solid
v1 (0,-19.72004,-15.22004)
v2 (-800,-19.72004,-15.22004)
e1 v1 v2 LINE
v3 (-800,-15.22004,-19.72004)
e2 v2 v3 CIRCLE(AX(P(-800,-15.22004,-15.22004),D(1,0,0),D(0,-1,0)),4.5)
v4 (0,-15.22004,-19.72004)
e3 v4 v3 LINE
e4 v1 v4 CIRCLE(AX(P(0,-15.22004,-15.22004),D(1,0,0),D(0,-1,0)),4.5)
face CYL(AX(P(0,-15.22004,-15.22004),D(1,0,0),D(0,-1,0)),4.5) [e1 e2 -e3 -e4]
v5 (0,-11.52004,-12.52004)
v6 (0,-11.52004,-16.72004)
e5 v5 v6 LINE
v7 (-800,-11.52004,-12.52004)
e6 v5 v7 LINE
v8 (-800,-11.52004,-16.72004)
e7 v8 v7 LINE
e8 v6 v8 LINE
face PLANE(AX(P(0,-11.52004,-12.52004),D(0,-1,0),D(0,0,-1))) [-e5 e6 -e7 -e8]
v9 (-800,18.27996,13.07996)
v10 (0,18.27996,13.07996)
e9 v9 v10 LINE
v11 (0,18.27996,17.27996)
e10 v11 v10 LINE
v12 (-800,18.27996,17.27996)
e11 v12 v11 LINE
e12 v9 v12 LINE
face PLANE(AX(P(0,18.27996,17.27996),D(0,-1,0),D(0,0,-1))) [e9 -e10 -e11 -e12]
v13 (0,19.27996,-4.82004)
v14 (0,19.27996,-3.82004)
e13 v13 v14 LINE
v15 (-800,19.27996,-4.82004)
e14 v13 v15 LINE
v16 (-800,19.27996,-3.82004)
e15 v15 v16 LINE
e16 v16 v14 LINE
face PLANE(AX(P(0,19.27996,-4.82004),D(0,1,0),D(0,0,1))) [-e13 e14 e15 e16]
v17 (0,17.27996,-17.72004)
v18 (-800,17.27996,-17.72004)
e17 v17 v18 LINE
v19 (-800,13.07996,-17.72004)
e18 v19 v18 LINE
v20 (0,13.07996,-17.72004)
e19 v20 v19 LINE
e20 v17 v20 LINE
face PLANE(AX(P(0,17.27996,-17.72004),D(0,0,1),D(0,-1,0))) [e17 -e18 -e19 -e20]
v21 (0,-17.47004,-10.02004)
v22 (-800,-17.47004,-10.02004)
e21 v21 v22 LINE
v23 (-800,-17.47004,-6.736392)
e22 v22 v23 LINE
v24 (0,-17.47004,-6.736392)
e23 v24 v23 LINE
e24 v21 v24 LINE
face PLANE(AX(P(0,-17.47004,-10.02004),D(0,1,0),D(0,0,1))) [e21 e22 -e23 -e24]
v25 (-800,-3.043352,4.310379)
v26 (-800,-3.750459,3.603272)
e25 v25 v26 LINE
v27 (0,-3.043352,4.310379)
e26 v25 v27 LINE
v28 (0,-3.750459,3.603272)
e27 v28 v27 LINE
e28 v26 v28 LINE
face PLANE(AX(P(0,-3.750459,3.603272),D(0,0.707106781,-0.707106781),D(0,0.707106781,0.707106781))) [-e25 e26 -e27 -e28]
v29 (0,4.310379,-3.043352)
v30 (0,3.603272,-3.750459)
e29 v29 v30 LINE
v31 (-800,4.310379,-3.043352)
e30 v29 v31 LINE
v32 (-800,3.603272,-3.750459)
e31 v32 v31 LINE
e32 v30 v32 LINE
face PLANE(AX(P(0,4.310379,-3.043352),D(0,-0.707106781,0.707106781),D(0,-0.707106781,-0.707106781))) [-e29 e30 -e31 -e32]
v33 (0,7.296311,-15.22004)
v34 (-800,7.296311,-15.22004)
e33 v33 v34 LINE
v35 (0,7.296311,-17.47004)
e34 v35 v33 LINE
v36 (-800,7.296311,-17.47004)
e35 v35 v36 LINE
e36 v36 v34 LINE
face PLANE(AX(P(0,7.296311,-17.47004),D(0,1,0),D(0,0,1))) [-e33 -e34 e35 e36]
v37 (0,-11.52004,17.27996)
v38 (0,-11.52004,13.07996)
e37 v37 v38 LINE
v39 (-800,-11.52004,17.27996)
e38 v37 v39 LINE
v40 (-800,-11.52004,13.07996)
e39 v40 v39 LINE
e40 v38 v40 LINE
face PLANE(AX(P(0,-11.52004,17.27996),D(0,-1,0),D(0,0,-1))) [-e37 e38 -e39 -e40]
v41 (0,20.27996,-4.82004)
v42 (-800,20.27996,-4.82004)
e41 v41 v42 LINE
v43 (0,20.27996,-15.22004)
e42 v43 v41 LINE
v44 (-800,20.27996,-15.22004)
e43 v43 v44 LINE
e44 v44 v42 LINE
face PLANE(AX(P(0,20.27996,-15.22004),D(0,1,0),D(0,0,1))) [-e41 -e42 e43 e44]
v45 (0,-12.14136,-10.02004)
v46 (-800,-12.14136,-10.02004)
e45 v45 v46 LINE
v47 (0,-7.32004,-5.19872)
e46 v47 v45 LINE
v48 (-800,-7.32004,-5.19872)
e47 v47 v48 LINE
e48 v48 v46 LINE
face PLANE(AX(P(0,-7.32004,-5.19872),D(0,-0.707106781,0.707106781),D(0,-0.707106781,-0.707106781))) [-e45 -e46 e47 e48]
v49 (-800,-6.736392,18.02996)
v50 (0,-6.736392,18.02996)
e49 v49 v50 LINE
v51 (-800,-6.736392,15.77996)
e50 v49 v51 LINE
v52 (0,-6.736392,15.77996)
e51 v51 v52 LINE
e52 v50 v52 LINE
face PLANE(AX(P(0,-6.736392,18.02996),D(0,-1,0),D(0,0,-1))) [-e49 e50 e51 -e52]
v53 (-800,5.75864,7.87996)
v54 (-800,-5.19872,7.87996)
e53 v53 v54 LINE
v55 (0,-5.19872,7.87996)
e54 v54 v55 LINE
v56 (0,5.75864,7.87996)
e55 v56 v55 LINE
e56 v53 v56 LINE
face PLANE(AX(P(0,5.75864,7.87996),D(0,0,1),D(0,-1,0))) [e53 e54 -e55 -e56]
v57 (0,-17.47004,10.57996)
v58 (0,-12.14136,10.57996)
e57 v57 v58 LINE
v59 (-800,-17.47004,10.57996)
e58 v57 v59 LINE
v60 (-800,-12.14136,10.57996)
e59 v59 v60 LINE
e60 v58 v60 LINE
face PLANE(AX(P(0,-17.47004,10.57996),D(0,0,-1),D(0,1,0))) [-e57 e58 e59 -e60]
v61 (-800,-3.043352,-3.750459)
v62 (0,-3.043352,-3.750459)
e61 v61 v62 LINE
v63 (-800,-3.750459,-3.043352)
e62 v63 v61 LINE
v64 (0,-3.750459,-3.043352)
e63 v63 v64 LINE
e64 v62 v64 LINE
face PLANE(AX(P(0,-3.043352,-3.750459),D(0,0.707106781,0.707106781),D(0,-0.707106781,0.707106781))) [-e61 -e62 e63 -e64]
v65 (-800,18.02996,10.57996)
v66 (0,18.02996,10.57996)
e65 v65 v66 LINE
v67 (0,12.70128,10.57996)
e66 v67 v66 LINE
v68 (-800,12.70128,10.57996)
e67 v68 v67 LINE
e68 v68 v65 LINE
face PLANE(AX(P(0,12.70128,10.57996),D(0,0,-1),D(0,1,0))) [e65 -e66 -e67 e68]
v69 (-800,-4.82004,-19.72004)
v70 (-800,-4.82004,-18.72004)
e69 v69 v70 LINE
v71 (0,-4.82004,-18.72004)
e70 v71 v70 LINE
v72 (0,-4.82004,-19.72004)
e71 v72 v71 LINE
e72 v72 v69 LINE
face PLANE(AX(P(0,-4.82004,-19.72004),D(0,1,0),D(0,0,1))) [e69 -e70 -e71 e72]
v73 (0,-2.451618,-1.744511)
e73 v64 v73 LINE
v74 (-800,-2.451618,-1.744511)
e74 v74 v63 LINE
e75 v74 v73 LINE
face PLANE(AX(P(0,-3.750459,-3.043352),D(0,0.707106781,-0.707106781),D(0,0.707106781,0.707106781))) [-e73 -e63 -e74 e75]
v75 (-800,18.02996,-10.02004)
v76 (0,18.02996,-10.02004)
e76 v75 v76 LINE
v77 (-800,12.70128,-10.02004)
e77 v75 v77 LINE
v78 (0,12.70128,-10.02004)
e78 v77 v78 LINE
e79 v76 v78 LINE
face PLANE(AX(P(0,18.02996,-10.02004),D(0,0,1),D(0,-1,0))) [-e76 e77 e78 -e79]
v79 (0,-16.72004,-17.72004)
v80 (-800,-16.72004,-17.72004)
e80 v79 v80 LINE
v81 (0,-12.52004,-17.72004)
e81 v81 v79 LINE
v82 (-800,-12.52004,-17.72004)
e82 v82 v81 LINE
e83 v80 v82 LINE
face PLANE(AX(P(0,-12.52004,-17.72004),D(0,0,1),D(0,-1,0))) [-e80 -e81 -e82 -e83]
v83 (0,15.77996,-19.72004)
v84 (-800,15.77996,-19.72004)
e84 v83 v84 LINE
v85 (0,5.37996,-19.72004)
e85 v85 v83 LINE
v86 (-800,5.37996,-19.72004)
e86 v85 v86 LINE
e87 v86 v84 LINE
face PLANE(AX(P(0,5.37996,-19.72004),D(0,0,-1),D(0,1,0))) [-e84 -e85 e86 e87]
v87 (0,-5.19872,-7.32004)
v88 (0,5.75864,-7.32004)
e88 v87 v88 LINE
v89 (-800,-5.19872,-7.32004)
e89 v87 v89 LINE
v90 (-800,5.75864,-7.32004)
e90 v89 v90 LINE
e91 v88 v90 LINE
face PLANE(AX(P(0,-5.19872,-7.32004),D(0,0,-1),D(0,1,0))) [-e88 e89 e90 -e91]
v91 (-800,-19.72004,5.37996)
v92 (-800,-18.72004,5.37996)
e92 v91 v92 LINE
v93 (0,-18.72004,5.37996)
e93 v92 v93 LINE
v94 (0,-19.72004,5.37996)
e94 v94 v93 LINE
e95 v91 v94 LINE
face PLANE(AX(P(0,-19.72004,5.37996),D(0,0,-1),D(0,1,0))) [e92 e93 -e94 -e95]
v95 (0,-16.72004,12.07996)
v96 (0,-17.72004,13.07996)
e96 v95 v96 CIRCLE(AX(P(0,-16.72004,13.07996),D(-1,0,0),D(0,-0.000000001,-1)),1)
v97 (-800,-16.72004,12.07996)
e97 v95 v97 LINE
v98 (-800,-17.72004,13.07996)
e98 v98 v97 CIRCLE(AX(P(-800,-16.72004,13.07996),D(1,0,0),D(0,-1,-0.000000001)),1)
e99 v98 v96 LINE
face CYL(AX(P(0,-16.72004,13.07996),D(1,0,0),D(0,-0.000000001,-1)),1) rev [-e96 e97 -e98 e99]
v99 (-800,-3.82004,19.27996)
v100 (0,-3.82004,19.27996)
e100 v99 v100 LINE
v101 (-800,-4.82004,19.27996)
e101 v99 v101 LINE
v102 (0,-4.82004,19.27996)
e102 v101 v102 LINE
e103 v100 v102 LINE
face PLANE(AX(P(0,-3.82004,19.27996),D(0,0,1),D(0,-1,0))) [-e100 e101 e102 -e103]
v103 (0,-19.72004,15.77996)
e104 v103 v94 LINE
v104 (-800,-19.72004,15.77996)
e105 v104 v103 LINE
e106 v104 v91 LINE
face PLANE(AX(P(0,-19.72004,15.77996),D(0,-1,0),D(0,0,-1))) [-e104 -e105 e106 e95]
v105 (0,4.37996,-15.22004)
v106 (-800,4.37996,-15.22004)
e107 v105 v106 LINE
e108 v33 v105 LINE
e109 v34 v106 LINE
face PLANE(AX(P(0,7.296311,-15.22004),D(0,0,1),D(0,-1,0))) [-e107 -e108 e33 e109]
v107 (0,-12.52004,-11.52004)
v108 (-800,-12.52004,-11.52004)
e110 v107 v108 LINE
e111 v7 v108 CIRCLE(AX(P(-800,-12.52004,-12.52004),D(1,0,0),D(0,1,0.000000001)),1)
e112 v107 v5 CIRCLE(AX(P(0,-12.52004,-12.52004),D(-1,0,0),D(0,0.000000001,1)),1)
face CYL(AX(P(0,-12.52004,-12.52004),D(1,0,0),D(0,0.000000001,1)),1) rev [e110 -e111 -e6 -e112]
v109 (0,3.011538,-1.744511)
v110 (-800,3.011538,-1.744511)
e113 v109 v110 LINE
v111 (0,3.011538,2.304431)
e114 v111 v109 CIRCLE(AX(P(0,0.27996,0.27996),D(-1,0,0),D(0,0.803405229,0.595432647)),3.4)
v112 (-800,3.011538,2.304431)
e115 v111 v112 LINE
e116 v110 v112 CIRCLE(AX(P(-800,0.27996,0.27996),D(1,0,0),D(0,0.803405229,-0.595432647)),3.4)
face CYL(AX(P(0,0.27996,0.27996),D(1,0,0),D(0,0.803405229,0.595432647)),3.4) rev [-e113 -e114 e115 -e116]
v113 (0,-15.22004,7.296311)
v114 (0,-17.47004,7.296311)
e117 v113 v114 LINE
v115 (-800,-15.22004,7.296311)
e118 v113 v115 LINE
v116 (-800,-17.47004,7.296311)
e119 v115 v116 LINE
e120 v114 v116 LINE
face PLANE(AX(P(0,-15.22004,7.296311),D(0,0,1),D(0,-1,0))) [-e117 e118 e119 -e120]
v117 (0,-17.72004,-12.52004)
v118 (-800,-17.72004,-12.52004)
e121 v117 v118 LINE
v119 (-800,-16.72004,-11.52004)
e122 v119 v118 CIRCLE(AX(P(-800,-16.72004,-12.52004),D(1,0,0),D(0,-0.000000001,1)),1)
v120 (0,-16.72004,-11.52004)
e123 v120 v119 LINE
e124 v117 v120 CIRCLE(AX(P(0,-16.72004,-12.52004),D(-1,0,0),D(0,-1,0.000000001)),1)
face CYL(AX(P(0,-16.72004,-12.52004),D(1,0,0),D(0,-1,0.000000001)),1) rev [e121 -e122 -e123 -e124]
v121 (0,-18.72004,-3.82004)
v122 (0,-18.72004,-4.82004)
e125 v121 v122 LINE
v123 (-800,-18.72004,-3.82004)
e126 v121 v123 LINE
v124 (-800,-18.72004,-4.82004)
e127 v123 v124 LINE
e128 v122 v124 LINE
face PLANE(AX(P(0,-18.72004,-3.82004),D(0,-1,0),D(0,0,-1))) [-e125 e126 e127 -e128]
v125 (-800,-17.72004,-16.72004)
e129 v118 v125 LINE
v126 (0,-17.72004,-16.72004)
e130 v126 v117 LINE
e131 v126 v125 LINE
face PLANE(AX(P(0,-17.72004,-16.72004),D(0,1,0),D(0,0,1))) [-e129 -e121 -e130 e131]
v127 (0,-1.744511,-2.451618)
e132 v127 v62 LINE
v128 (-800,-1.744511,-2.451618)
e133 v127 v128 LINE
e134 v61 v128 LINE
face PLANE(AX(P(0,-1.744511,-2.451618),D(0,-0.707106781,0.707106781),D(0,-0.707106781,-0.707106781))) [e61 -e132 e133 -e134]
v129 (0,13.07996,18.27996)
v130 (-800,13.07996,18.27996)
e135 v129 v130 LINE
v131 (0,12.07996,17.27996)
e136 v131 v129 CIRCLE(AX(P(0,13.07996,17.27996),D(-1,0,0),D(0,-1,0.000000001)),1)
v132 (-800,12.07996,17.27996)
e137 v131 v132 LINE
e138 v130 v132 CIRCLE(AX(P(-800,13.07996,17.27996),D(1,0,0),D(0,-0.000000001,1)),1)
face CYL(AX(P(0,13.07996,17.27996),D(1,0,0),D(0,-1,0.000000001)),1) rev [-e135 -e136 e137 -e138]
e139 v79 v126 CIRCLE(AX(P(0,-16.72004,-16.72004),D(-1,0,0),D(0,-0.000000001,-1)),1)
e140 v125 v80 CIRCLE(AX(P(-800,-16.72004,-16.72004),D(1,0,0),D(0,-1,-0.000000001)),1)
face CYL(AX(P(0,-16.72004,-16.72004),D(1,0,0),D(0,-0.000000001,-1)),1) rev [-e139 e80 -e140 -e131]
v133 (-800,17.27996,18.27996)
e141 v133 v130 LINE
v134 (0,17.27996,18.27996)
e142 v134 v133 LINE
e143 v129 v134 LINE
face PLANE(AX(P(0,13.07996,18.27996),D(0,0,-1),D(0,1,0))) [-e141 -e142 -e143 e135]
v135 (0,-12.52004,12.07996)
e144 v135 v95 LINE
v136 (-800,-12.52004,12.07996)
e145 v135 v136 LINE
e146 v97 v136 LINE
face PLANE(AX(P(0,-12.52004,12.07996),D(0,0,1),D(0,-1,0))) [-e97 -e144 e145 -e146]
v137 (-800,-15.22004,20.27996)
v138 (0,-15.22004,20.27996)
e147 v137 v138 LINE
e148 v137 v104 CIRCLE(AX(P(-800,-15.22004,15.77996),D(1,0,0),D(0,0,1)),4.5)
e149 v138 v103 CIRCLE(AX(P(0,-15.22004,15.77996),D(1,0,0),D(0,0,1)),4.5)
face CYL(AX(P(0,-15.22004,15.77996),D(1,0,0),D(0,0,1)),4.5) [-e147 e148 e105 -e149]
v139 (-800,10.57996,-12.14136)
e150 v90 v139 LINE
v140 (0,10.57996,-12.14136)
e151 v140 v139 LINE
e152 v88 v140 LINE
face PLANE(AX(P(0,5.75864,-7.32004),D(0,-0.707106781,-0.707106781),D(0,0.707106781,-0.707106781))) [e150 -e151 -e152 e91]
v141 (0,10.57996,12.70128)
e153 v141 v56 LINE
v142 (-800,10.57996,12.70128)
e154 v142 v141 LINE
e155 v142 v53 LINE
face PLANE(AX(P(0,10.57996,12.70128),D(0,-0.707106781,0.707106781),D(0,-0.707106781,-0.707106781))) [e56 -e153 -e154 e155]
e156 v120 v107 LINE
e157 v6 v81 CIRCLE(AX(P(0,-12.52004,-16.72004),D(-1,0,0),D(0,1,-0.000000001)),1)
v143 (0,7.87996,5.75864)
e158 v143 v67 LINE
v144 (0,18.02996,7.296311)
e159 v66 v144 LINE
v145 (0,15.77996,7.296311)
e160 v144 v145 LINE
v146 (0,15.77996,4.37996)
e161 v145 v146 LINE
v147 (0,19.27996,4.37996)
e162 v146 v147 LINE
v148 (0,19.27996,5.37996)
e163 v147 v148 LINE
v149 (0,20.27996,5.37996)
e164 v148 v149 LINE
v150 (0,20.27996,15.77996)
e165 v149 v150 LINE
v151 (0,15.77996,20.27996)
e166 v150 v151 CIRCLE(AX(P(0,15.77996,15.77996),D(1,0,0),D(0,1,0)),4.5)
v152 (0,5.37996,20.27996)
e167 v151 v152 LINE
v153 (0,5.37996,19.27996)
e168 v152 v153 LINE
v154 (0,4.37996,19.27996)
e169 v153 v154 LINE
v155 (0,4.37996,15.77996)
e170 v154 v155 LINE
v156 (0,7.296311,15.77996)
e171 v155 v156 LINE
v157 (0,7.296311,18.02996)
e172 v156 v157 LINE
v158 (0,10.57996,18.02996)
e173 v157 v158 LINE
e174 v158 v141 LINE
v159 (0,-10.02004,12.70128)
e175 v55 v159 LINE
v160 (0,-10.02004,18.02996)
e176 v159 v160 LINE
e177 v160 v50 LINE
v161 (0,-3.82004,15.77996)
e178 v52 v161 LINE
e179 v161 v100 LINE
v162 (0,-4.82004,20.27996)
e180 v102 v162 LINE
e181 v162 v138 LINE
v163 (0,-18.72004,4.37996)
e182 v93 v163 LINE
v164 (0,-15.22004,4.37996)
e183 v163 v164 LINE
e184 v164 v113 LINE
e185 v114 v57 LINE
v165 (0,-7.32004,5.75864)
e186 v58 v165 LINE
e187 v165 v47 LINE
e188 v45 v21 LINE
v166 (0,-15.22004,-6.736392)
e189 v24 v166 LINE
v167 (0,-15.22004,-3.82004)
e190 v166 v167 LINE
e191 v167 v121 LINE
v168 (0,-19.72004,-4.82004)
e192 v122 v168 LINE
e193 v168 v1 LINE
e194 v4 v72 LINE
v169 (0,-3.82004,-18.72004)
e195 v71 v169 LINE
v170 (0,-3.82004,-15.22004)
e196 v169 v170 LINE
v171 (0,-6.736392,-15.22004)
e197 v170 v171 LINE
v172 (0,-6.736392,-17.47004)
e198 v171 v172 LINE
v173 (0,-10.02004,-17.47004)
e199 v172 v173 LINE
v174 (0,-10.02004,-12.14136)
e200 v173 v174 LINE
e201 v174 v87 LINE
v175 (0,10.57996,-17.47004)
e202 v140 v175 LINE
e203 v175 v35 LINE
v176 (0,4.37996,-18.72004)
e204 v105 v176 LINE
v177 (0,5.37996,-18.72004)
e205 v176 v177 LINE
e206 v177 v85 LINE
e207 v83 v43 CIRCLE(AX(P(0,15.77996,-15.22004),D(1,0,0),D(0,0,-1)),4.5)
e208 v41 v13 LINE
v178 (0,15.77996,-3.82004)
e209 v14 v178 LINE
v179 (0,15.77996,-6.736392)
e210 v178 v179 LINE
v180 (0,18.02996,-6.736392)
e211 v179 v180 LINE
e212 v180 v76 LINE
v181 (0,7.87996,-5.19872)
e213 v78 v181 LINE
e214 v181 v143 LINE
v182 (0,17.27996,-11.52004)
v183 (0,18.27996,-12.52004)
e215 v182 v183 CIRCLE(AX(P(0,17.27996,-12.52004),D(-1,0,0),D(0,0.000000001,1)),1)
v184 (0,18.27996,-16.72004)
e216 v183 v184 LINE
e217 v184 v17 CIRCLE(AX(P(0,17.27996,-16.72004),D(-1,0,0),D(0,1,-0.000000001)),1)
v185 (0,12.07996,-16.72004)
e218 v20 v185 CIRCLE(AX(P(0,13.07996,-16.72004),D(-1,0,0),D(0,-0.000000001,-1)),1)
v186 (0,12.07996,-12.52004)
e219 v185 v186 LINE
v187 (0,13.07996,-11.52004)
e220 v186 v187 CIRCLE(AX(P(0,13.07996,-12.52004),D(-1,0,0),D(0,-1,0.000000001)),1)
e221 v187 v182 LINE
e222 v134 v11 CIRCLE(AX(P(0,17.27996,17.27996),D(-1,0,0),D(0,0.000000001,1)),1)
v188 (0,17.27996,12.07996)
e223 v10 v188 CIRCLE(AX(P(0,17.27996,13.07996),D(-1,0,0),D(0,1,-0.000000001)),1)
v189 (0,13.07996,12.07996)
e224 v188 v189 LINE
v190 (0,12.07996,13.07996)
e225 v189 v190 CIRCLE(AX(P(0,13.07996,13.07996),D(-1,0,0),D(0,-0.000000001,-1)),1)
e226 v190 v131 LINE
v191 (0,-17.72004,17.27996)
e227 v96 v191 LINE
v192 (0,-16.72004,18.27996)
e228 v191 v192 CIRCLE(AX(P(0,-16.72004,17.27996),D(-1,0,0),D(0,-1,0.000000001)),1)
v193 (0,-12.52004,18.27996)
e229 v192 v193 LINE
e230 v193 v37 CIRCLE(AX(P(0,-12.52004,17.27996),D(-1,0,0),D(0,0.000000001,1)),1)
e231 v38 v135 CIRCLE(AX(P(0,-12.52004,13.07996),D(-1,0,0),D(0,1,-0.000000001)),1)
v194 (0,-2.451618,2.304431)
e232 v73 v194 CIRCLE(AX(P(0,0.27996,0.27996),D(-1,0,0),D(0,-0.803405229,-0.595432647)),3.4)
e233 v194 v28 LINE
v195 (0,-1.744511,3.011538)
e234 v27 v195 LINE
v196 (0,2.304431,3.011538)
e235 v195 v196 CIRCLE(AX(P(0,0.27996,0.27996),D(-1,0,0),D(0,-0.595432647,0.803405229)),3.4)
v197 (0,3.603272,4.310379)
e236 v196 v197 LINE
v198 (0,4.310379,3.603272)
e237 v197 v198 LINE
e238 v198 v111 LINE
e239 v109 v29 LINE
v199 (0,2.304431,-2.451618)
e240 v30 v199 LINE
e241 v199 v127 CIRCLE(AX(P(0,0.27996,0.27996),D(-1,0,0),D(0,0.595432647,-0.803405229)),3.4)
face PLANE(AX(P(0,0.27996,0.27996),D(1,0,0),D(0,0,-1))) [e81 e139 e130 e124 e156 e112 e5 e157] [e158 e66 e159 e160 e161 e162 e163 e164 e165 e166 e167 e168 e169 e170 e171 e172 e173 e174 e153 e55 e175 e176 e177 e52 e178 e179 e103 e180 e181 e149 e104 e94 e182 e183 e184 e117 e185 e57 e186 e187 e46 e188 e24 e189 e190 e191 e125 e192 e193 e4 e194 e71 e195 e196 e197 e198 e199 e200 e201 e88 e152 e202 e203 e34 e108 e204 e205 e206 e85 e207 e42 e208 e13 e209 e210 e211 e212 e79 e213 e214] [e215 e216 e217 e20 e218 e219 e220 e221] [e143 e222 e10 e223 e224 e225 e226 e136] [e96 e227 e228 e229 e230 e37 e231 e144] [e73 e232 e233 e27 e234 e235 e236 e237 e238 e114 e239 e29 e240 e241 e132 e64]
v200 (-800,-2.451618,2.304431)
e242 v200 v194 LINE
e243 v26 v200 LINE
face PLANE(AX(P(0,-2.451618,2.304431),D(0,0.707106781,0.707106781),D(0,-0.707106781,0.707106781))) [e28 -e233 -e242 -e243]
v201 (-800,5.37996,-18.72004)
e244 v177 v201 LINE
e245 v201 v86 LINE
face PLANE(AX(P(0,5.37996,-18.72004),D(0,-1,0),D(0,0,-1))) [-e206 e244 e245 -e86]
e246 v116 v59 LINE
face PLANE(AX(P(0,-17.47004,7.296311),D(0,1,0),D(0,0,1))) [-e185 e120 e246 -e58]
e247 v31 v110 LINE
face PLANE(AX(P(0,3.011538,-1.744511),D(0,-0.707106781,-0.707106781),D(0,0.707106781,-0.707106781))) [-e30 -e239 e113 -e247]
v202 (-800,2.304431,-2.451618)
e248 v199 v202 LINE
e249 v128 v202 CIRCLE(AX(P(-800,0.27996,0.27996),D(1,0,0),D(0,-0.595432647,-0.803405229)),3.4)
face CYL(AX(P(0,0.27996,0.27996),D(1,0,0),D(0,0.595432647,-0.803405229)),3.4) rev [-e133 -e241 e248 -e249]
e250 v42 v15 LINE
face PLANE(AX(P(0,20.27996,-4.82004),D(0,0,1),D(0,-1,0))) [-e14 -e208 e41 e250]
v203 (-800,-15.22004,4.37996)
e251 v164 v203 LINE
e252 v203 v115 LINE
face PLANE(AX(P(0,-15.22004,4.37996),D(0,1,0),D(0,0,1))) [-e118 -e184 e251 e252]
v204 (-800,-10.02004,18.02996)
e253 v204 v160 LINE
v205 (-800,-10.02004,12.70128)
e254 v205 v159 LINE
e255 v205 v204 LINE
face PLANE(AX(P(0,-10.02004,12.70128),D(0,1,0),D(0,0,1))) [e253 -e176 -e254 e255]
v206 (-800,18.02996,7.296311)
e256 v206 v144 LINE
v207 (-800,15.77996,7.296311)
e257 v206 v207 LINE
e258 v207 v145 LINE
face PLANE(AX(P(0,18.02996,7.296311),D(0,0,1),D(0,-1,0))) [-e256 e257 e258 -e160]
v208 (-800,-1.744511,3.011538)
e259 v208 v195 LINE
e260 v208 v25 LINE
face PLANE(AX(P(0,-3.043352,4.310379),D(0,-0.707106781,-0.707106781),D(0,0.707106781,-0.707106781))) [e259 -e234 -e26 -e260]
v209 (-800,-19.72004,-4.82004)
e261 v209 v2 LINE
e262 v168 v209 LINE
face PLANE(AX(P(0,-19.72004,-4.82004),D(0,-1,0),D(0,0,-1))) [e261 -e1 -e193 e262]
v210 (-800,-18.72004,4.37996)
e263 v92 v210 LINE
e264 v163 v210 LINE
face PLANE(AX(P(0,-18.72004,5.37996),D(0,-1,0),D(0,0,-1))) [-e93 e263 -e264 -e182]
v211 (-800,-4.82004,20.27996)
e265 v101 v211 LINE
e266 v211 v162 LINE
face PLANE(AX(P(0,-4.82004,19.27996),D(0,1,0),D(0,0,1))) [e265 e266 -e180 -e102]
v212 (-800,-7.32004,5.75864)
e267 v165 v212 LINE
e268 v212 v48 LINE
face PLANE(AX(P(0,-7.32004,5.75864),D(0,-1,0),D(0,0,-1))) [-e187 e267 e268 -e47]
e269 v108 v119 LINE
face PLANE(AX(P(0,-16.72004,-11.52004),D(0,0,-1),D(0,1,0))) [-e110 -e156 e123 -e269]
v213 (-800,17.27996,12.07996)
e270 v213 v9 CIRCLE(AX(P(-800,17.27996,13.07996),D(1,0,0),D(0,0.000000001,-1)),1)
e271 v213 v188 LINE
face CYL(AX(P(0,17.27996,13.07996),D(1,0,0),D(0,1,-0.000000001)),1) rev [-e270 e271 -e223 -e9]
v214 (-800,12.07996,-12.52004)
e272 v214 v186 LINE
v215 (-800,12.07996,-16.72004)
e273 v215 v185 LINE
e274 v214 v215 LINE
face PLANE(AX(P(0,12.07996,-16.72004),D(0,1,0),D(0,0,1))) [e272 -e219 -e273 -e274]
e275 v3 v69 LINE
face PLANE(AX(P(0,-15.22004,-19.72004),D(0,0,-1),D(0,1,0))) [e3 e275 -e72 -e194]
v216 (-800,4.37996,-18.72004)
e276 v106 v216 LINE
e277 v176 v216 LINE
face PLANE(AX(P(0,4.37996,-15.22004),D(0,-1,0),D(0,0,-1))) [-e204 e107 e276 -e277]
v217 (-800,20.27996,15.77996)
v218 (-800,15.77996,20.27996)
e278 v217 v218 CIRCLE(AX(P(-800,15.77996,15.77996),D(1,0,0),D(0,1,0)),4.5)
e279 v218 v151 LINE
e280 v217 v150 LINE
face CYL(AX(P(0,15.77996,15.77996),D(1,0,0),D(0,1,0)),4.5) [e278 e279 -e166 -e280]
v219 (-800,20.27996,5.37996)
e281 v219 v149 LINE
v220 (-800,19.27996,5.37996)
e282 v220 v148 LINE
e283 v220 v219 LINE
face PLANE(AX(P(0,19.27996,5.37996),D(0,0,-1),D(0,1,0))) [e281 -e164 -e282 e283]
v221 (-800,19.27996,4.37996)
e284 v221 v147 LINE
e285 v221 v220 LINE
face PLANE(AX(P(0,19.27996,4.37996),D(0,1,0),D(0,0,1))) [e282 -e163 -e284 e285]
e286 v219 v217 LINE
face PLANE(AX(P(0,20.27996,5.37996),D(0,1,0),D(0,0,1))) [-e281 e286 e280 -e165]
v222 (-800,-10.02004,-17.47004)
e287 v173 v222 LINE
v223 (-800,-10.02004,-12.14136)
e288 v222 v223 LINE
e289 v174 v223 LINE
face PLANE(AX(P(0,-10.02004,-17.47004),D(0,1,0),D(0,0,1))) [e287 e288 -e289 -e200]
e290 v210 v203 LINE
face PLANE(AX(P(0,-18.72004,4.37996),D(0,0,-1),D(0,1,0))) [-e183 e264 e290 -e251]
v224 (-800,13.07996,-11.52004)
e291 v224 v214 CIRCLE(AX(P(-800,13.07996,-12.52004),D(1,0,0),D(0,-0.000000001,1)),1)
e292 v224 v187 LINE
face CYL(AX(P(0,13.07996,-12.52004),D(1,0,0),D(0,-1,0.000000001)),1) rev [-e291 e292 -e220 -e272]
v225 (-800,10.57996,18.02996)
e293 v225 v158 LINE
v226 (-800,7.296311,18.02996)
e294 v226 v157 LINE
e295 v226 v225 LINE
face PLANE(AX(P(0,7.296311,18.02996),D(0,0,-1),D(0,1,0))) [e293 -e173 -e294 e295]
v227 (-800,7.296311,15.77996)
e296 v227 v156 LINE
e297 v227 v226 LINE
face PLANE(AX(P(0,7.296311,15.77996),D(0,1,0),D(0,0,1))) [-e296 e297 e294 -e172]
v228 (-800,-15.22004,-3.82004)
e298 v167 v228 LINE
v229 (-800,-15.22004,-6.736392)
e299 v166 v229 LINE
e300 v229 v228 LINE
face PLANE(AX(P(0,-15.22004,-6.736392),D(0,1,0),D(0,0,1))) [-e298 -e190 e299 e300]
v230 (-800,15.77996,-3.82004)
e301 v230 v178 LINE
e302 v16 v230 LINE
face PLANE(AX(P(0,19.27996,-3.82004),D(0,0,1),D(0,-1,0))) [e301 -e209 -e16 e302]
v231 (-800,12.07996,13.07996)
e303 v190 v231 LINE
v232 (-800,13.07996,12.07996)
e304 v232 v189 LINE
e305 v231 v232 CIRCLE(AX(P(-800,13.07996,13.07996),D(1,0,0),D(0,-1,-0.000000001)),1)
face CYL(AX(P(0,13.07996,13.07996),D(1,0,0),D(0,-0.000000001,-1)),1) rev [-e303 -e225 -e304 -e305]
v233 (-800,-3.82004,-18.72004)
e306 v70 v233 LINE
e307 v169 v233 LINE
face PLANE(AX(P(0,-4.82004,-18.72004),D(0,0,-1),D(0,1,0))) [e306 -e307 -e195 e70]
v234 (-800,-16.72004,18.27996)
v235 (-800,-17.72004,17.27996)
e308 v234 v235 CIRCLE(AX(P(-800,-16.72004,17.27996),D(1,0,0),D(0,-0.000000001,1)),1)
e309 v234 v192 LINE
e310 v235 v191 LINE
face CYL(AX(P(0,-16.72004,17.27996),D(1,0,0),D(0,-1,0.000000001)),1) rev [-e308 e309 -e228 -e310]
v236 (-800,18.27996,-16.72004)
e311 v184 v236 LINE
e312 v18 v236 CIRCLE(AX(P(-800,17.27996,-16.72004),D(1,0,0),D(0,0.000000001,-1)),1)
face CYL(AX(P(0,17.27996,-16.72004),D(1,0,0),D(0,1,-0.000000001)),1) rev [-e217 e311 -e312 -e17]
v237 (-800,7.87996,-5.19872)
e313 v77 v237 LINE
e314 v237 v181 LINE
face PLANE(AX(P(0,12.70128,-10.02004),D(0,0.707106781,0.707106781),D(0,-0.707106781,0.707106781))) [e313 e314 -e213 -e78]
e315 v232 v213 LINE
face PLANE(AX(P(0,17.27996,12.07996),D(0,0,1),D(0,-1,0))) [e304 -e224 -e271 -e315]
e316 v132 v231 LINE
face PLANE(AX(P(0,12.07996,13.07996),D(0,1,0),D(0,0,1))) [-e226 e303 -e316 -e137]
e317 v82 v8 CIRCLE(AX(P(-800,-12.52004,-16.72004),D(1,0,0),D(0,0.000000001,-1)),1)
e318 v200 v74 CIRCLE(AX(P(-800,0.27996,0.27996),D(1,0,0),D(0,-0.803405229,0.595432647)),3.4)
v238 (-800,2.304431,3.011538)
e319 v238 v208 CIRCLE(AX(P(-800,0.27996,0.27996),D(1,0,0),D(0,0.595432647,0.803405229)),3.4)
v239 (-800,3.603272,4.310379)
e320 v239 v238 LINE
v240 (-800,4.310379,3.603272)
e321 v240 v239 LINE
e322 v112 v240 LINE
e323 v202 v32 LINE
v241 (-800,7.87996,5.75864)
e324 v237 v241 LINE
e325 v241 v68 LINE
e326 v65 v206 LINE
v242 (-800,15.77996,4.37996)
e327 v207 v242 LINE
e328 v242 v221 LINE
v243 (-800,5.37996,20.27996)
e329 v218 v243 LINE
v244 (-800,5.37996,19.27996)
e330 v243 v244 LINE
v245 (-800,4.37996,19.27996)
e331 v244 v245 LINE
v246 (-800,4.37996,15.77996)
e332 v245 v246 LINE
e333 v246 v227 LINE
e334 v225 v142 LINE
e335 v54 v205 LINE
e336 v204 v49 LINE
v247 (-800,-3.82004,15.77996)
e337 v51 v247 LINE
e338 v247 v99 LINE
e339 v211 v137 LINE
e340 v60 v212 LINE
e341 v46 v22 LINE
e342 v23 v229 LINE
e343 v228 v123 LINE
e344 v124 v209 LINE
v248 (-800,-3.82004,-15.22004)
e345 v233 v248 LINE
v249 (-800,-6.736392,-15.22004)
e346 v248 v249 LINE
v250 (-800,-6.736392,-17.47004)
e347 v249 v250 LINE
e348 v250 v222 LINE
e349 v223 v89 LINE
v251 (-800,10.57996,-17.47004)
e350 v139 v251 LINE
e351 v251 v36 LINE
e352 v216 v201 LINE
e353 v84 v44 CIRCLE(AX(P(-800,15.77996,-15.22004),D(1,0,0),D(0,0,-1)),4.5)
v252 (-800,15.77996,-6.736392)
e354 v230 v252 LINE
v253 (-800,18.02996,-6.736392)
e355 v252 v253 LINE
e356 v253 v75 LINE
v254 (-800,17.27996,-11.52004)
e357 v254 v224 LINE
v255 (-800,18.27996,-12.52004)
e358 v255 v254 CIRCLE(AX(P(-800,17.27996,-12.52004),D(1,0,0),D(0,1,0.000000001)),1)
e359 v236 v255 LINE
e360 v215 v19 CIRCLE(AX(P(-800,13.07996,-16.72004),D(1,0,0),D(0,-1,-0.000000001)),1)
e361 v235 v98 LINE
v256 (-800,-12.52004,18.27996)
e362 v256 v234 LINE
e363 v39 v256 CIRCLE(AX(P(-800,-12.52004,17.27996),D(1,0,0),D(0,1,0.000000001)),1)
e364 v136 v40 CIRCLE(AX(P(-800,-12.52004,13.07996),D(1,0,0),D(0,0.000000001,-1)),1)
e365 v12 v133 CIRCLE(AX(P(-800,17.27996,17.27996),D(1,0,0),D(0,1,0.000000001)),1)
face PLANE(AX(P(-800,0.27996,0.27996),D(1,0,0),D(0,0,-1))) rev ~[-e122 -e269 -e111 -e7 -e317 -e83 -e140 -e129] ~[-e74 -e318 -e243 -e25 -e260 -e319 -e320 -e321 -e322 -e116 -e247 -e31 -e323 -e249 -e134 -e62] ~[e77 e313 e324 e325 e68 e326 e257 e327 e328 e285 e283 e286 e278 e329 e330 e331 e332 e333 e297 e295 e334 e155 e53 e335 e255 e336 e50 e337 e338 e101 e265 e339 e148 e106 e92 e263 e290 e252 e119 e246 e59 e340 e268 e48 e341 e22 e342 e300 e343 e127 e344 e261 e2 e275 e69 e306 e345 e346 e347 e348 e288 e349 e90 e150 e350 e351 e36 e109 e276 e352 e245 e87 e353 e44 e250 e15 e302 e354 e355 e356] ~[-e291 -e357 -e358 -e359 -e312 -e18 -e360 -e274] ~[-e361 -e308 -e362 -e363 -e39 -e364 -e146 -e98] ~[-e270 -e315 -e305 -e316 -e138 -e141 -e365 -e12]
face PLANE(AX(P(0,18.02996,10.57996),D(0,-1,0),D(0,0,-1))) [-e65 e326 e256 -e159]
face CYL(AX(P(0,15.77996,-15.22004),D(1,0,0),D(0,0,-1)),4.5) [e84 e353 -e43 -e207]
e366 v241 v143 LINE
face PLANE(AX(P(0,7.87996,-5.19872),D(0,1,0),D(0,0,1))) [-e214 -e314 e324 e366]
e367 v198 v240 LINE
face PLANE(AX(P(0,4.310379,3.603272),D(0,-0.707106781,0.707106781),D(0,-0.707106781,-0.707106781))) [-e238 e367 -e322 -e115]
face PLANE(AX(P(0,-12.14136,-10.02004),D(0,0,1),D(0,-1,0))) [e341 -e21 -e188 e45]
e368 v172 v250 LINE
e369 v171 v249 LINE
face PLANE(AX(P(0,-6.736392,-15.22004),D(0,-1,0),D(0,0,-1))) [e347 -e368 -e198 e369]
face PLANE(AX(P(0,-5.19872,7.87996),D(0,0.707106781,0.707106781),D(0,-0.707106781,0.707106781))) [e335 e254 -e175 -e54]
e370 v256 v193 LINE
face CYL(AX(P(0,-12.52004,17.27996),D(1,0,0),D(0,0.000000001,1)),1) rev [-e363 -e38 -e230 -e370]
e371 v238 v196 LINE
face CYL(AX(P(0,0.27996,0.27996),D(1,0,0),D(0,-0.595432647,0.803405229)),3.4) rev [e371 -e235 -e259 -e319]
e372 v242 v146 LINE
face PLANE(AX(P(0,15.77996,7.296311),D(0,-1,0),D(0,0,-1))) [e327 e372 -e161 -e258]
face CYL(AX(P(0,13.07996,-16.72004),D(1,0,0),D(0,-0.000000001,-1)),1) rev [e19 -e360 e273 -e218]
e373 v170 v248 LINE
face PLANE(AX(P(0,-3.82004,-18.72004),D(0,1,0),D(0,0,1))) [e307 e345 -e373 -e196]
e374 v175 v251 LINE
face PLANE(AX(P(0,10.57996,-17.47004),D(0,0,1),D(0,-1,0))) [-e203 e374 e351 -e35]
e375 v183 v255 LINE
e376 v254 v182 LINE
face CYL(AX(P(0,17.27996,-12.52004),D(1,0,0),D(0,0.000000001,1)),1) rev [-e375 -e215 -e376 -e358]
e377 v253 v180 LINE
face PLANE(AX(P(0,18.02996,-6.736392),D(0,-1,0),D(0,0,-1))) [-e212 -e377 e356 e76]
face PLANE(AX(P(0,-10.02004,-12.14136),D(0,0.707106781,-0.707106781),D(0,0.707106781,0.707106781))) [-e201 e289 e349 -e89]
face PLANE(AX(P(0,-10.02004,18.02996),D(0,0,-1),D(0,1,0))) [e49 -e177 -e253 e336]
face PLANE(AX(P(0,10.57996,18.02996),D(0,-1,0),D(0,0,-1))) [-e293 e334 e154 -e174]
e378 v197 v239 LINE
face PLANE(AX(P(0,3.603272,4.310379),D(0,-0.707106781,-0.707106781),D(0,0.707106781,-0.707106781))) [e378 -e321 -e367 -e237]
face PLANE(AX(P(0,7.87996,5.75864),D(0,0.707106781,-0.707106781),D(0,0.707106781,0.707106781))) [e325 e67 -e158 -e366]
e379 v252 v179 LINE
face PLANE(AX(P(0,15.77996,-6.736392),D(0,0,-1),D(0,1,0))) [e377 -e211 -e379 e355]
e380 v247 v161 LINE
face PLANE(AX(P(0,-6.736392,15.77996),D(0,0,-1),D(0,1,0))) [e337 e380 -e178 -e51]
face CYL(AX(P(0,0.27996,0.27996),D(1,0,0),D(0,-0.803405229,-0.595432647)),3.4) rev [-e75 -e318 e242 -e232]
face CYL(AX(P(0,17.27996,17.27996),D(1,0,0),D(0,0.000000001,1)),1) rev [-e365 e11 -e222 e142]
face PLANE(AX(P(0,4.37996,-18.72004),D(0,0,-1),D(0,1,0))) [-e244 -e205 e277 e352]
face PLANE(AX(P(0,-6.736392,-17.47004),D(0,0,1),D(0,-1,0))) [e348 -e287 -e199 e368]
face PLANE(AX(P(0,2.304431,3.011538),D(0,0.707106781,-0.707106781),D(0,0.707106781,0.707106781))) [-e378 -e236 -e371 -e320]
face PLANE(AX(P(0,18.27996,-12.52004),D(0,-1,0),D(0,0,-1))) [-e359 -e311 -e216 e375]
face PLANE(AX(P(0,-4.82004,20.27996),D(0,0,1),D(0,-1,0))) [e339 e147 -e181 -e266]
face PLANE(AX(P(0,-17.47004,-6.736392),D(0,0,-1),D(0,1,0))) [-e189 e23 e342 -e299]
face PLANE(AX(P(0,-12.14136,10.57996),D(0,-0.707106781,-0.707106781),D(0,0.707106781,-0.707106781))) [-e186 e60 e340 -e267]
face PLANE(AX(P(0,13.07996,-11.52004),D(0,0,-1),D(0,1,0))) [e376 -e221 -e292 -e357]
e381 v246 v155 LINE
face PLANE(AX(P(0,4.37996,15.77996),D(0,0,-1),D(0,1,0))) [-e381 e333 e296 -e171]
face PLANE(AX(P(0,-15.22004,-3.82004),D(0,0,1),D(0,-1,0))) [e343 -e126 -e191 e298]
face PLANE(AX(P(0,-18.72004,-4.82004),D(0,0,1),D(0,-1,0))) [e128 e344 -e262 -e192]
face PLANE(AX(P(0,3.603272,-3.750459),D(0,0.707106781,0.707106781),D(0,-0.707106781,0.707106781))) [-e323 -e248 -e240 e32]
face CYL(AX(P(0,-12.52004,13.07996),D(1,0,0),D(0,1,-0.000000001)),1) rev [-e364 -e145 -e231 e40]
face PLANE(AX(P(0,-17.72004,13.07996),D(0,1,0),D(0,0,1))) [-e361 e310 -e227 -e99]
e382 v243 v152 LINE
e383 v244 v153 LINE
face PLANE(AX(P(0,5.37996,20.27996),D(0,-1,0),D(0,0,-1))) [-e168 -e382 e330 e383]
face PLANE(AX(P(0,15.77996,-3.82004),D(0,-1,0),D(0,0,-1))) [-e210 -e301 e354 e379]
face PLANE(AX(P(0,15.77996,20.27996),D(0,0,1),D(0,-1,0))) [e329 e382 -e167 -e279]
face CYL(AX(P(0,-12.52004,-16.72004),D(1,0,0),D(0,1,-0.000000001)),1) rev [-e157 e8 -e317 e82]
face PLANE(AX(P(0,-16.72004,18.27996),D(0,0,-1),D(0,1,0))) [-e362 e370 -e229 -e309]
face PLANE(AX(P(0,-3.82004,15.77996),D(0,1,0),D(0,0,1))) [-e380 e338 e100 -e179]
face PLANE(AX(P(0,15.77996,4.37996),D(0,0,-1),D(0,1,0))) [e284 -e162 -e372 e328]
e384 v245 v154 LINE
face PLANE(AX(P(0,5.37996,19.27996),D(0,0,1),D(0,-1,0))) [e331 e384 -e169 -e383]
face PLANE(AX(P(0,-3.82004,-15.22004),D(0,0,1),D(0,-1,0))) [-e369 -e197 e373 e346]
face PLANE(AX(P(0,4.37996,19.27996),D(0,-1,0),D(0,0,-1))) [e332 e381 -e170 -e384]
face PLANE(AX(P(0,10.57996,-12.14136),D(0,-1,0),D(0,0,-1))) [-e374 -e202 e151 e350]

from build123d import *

# Parameters (mm, degrees)
EXTRUDE_1_DEPTH = 50
EXTRUDE_2_DEPTH = 800


with BuildPart() as part:
    # 草图1 → 凸台-拉伸1 (new body)
    with BuildSketch(Plane(origin=(0, 0, 0), x_dir=(0, 0, -1), z_dir=(1, 0, 0))):
        with BuildLine():
            Line((4.82004008, 19.27995992), (3.82004008, 19.27995992))
            Line((3.82004008, 19.27995992), (3.82004008, 15.77995992))
            Line((3.82004008, 15.77995992), (6.73639159, 15.77995992))
            Line((6.73639159, 15.77995992), (6.73639159, 18.02995992))
            Line((6.73639159, 18.02995992), (10.02004008, 18.02995992))
            Line((10.02004008, 18.02995992), (10.02004008, 12.70128026))
            Line((10.02004008, 12.70128026), (5.19871974, 7.87995992))
            Line((5.19871974, 7.87995992), (-5.75863958, 7.87995992))
            Line((-5.75863958, 7.87995992), (-10.57995992, 12.70128026))
            Line((-10.57995992, 12.70128026), (-10.57995992, 18.02995992))
            Line((-10.57995992, 18.02995992), (-7.29631143, 18.02995992))
            Line((-7.29631143, 18.02995992), (-7.29631143, 15.77995992))
            Line((-7.29631143, 15.77995992), (-4.37995992, 15.77995992))
            Line((-4.37995992, 15.77995992), (-4.37995992, 19.27995992))
            Line((-4.37995992, 19.27995992), (-5.37995992, 19.27995992))
            Line((-5.37995992, 19.27995992), (-5.37995992, 20.27995992))
            Line((-5.37995992, 20.27995992), (-15.77995992, 20.27995992))
            ThreePointArc((-15.77995992, 20.27995992), (-18.961940435, 18.961940435), (-20.27995992, 15.77995992))
            Line((-20.27995992, 15.77995992), (-20.27995992, 5.37995992))
            Line((-20.27995992, 5.37995992), (-19.27995992, 5.37995992))
            Line((-19.27995992, 5.37995992), (-19.27995992, 4.37995992))
            Line((-19.27995992, 4.37995992), (-15.77995992, 4.37995992))
            Line((-15.77995992, 4.37995992), (-15.77995992, 7.29631143))
            Line((-15.77995992, 7.29631143), (-18.02995992, 7.29631143))
            Line((-18.02995992, 7.29631143), (-18.02995992, 10.57995992))
            Line((-18.02995992, 10.57995992), (-12.70128026, 10.57995992))
            Line((-12.70128026, 10.57995992), (-7.87995992, 5.75863958))
            Line((-7.87995992, 5.75863958), (-7.87995992, -5.19871974))
            Line((-7.87995992, -5.19871974), (-12.70128026, -10.02004008))
            Line((-12.70128026, -10.02004008), (-18.02995992, -10.02004008))
            Line((-18.02995992, -10.02004008), (-18.02995992, -6.73639159))
            Line((-18.02995992, -6.73639159), (-15.77995992, -6.73639159))
            Line((-15.77995992, -6.73639159), (-15.77995992, -3.82004008))
            Line((-15.77995992, -3.82004008), (-19.27995992, -3.82004008))
            Line((-19.27995992, -3.82004008), (-19.27995992, -4.82004008))
            Line((-19.27995992, -4.82004008), (-20.27995992, -4.82004008))
            Line((-20.27995992, -4.82004008), (-20.27995992, -15.22004008))
            ThreePointArc((-20.27995992, -15.22004008), (-18.961940435, -18.402020595), (-15.77995992, -19.72004008))
            Line((-15.77995992, -19.72004008), (-5.37995992, -19.72004008))
            Line((-5.37995992, -19.72004008), (-5.37995992, -18.72004008))
            Line((-5.37995992, -18.72004008), (-4.37995992, -18.72004008))
            Line((-4.37995992, -18.72004008), (-4.37995992, -15.22004008))
            Line((-4.37995992, -15.22004008), (-7.29631143, -15.22004008))
            Line((-7.29631143, -15.22004008), (-7.29631143, -17.47004008))
            Line((-7.29631143, -17.47004008), (-10.57995992, -17.47004008))
            Line((-10.57995992, -17.47004008), (-10.57995992, -12.14136042))
            Line((-10.57995992, -12.14136042), (-5.75863958, -7.32004008))
            Line((-5.75863958, -7.32004008), (5.19871974, -7.32004008))
            Line((5.19871974, -7.32004008), (10.02004008, -12.14136042))
            Line((10.02004008, -12.14136042), (10.02004008, -17.47004008))
            Line((10.02004008, -17.47004008), (6.73639159, -17.47004008))
            Line((6.73639159, -17.47004008), (6.73639159, -15.22004008))
            Line((6.73639159, -15.22004008), (3.82004008, -15.22004008))
            Line((3.82004008, -15.22004008), (3.82004008, -18.72004008))
            Line((3.82004008, -18.72004008), (4.82004008, -18.72004008))
            Line((4.82004008, -18.72004008), (4.82004008, -19.72004008))
            Line((4.82004008, -19.72004008), (15.22004008, -19.72004008))
            ThreePointArc((15.22004008, -19.72004008), (18.402020595, -18.402020595), (19.72004008, -15.22004008))
            Line((19.72004008, -15.22004008), (19.72004008, -4.82004008))
            Line((19.72004008, -4.82004008), (18.72004008, -4.82004008))
            Line((18.72004008, -4.82004008), (18.72004008, -3.82004008))
            Line((18.72004008, -3.82004008), (15.22004008, -3.82004008))
            Line((15.22004008, -3.82004008), (15.22004008, -6.73639159))
            Line((15.22004008, -6.73639159), (17.47004008, -6.73639159))
            Line((17.47004008, -6.73639159), (17.47004008, -10.02004008))
            Line((17.47004008, -10.02004008), (12.14136042, -10.02004008))
            Line((12.14136042, -10.02004008), (7.32004008, -5.19871974))
            Line((7.32004008, -5.19871974), (7.32004008, 5.75863958))
            Line((7.32004008, 5.75863958), (12.14136042, 10.57995992))
            Line((12.14136042, 10.57995992), (17.47004008, 10.57995992))
            Line((17.47004008, 10.57995992), (17.47004008, 7.29631143))
            Line((17.47004008, 7.29631143), (15.22004008, 7.29631143))
            Line((15.22004008, 7.29631143), (15.22004008, 4.37995992))
            Line((15.22004008, 4.37995992), (18.72004008, 4.37995992))
            Line((18.72004008, 4.37995992), (18.72004008, 5.37995992))
            Line((18.72004008, 5.37995992), (19.72004008, 5.37995992))
            Line((19.72004008, 5.37995992), (19.72004008, 15.77995992))
            ThreePointArc((19.72004008, 15.77995992), (18.402020595, 18.961940435), (15.22004008, 20.27995992))
            Line((15.22004008, 20.27995992), (4.82004008, 20.27995992))
            Line((4.82004008, 20.27995992), (4.82004008, 19.27995992))
        make_face()
        with BuildLine():
            Line((-13.07995992, -17.72004008), (-17.27995992, -17.72004008))
            ThreePointArc((-17.27995992, -17.72004008), (-17.987066701, -17.427146861), (-18.27995992, -16.72004008))
            Line((-18.27995992, -16.72004008), (-18.27995992, -12.52004008))
            ThreePointArc((-18.27995992, -12.52004008), (-17.987066701, -11.812933299), (-17.27995992, -11.52004008))
            Line((-17.27995992, -11.52004008), (-13.07995992, -11.52004008))
            ThreePointArc((-13.07995992, -11.52004008), (-12.372853139, -11.812933299), (-12.07995992, -12.52004008))
            Line((-12.07995992, -12.52004008), (-12.07995992, -16.72004008))
            ThreePointArc((-12.07995992, -16.72004008), (-12.372853139, -17.427146861), (-13.07995992, -17.72004008))
        make_face(mode=Mode.SUBTRACT)
        with BuildLine():
            Line((-17.27995992, 18.27995992), (-13.07995992, 18.27995992))
            ThreePointArc((-13.07995992, 18.27995992), (-12.372853139, 17.987066701), (-12.07995992, 17.27995992))
            Line((-12.07995992, 17.27995992), (-12.07995992, 13.07995992))
            ThreePointArc((-12.07995992, 13.07995992), (-12.372853139, 12.372853139), (-13.07995992, 12.07995992))
            Line((-13.07995992, 12.07995992), (-17.27995992, 12.07995992))
            ThreePointArc((-17.27995992, 12.07995992), (-17.987066701, 12.372853139), (-18.27995992, 13.07995992))
            Line((-18.27995992, 13.07995992), (-18.27995992, 17.27995992))
            ThreePointArc((-18.27995992, 17.27995992), (-17.987066701, 17.987066701), (-17.27995992, 18.27995992))
        make_face(mode=Mode.SUBTRACT)
        with BuildLine():
            Line((16.72004008, 12.07995992), (12.52004008, 12.07995992))
            ThreePointArc((12.52004008, 12.07995992), (11.812933299, 12.372853139), (11.52004008, 13.07995992))
            Line((11.52004008, 13.07995992), (11.52004008, 17.27995992))
            ThreePointArc((11.52004008, 17.27995992), (11.812933299, 17.987066701), (12.52004008, 18.27995992))
            Line((12.52004008, 18.27995992), (16.72004008, 18.27995992))
            ThreePointArc((16.72004008, 18.27995992), (17.427146861, 17.987066701), (17.72004008, 17.27995992))
            Line((17.72004008, 17.27995992), (17.72004008, 13.07995992))
            ThreePointArc((17.72004008, 13.07995992), (17.427146861, 12.372853139), (16.72004008, 12.07995992))
        make_face(mode=Mode.SUBTRACT)
        with BuildLine():
            Line((3.75045895, -3.04335217), (3.04335217, -3.75045895))
            Line((3.04335217, -3.75045895), (1.74451108, -2.45161786))
            ThreePointArc((1.74451108, -2.45161786), (-0.27995992, -3.12004008), (-2.30443092, -2.45161786))
            Line((-2.30443092, -2.45161786), (-3.60327201, -3.75045895))
            Line((-3.60327201, -3.75045895), (-4.31037879, -3.04335217))
            Line((-4.31037879, -3.04335217), (-3.0115377, -1.74451108))
            ThreePointArc((-3.0115377, -1.74451108), (-3.67995992, 0.27995992), (-3.0115377, 2.30443092))
            Line((-3.0115377, 2.30443092), (-4.31037879, 3.60327201))
            Line((-4.31037879, 3.60327201), (-3.60327201, 4.31037879))
            Line((-3.60327201, 4.31037879), (-2.30443092, 3.0115377))
            ThreePointArc((-2.30443092, 3.0115377), (-0.27995992, 3.67995992), (1.74451108, 3.0115377))
            Line((1.74451108, 3.0115377), (3.04335217, 4.31037879))
            Line((3.04335217, 4.31037879), (3.75045895, 3.60327201))
            Line((3.75045895, 3.60327201), (2.45161786, 2.30443092))
            ThreePointArc((2.45161786, 2.30443092), (3.12004008, 0.27995992), (2.45161786, -1.74451108))
            Line((2.45161786, -1.74451108), (3.75045895, -3.04335217))
        make_face(mode=Mode.SUBTRACT)
        with BuildLine():
            Line((17.72004008, -12.52004008), (17.72004008, -16.72004008))
            ThreePointArc((17.72004008, -16.72004008), (17.427146861, -17.427146861), (16.72004008, -17.72004008))
            Line((16.72004008, -17.72004008), (12.52004008, -17.72004008))
            ThreePointArc((12.52004008, -17.72004008), (11.812933299, -17.427146861), (11.52004008, -16.72004008))
            Line((11.52004008, -16.72004008), (11.52004008, -12.52004008))
            ThreePointArc((11.52004008, -12.52004008), (11.812933299, -11.812933299), (12.52004008, -11.52004008))
            Line((12.52004008, -11.52004008), (16.72004008, -11.52004008))
            ThreePointArc((16.72004008, -11.52004008), (17.427146861, -11.812933299), (17.72004008, -12.52004008))
        make_face(mode=Mode.SUBTRACT)
    extrude(amount=-EXTRUDE_1_DEPTH)

    # 草图2 → 凸台-拉伸2 (add)
    with BuildSketch(Plane(origin=(0, 0, 0), x_dir=(0, 0, -1), z_dir=(1, 0, 0))):
        with BuildLine():
            Line((19.72004008, 5.37995992), (19.72004008, 15.77995992))
            ThreePointArc((19.72004008, 15.77995992), (18.402020595, 18.961940435), (15.22004008, 20.27995992))
            Line((15.22004008, 20.27995992), (4.82004008, 20.27995992))
            Line((4.82004008, 20.27995992), (4.82004008, 19.27995992))
            Line((4.82004008, 19.27995992), (3.82004008, 19.27995992))
            Line((3.82004008, 19.27995992), (3.82004008, 15.77995992))
            Line((3.82004008, 15.77995992), (6.73639159, 15.77995992))
            Line((6.73639159, 15.77995992), (6.73639159, 18.02995992))
            Line((6.73639159, 18.02995992), (10.02004008, 18.02995992))
            Line((10.02004008, 18.02995992), (10.02004008, 12.70128026))
            Line((10.02004008, 12.70128026), (5.19871974, 7.87995992))
            Line((5.19871974, 7.87995992), (-5.75863958, 7.87995992))
            Line((-5.75863958, 7.87995992), (-10.57995992, 12.70128026))
            Line((-10.57995992, 12.70128026), (-10.57995992, 18.02995992))
            Line((-10.57995992, 18.02995992), (-7.29631143, 18.02995992))
            Line((-7.29631143, 18.02995992), (-7.29631143, 15.77995992))
            Line((-7.29631143, 15.77995992), (-4.37995992, 15.77995992))
            Line((-4.37995992, 15.77995992), (-4.37995992, 19.27995992))
            Line((-4.37995992, 19.27995992), (-5.37995992, 19.27995992))
            Line((-5.37995992, 19.27995992), (-5.37995992, 20.27995992))
            Line((-5.37995992, 20.27995992), (-15.77995992, 20.27995992))
            ThreePointArc((-15.77995992, 20.27995992), (-18.961940435, 18.961940435), (-20.27995992, 15.77995992))
            Line((-20.27995992, 15.77995992), (-20.27995992, 5.37995992))
            Line((-20.27995992, 5.37995992), (-19.27995992, 5.37995992))
            Line((-19.27995992, 5.37995992), (-19.27995992, 4.37995992))
            Line((-19.27995992, 4.37995992), (-15.77995992, 4.37995992))
            Line((-15.77995992, 4.37995992), (-15.77995992, 7.29631143))
            Line((-15.77995992, 7.29631143), (-18.02995992, 7.29631143))
            Line((-18.02995992, 7.29631143), (-18.02995992, 10.57995992))
            Line((-18.02995992, 10.57995992), (-12.70128026, 10.57995992))
            Line((-12.70128026, 10.57995992), (-7.87995992, 5.75863958))
            Line((-7.87995992, 5.75863958), (-7.87995992, -5.19871974))
            Line((-7.87995992, -5.19871974), (-12.70128026, -10.02004008))
            Line((-12.70128026, -10.02004008), (-18.02995992, -10.02004008))
            Line((-18.02995992, -10.02004008), (-18.02995992, -6.73639159))
            Line((-18.02995992, -6.73639159), (-15.77995992, -6.73639159))
            Line((-15.77995992, -6.73639159), (-15.77995992, -3.82004008))
            Line((-15.77995992, -3.82004008), (-19.27995992, -3.82004008))
            Line((-19.27995992, -3.82004008), (-19.27995992, -4.82004008))
            Line((-19.27995992, -4.82004008), (-20.27995992, -4.82004008))
            Line((-20.27995992, -4.82004008), (-20.27995992, -15.22004008))
            ThreePointArc((-20.27995992, -15.22004008), (-18.961940435, -18.402020595), (-15.77995992, -19.72004008))
            Line((-15.77995992, -19.72004008), (-5.37995992, -19.72004008))
            Line((-5.37995992, -19.72004008), (-5.37995992, -18.72004008))
            Line((-5.37995992, -18.72004008), (-4.37995992, -18.72004008))
            Line((-4.37995992, -18.72004008), (-4.37995992, -15.22004008))
            Line((-4.37995992, -15.22004008), (-7.29631143, -15.22004008))
            Line((-7.29631143, -15.22004008), (-7.29631143, -17.47004008))
            Line((-7.29631143, -17.47004008), (-10.57995992, -17.47004008))
            Line((-10.57995992, -17.47004008), (-10.57995992, -12.14136042))
            Line((-10.57995992, -12.14136042), (-5.75863958, -7.32004008))
            Line((-5.75863958, -7.32004008), (5.19871974, -7.32004008))
            Line((5.19871974, -7.32004008), (10.02004008, -12.14136042))
            Line((10.02004008, -12.14136042), (10.02004008, -17.47004008))
            Line((10.02004008, -17.47004008), (6.73639159, -17.47004008))
            Line((6.73639159, -17.47004008), (6.73639159, -15.22004008))
            Line((6.73639159, -15.22004008), (3.82004008, -15.22004008))
            Line((3.82004008, -15.22004008), (3.82004008, -18.72004008))
            Line((3.82004008, -18.72004008), (4.82004008, -18.72004008))
            Line((4.82004008, -18.72004008), (4.82004008, -19.72004008))
            Line((4.82004008, -19.72004008), (15.22004008, -19.72004008))
            ThreePointArc((15.22004008, -19.72004008), (18.402020595, -18.402020595), (19.72004008, -15.22004008))
            Line((19.72004008, -15.22004008), (19.72004008, -4.82004008))
            Line((19.72004008, -4.82004008), (18.72004008, -4.82004008))
            Line((18.72004008, -4.82004008), (18.72004008, -3.82004008))
            Line((18.72004008, -3.82004008), (15.22004008, -3.82004008))
            Line((15.22004008, -3.82004008), (15.22004008, -6.73639159))
            Line((15.22004008, -6.73639159), (17.47004008, -6.73639159))
            Line((17.47004008, -6.73639159), (17.47004008, -10.02004008))
            Line((17.47004008, -10.02004008), (12.14136042, -10.02004008))
            Line((12.14136042, -10.02004008), (7.32004008, -5.19871974))
            Line((7.32004008, -5.19871974), (7.32004008, 5.75863958))
            Line((7.32004008, 5.75863958), (12.14136042, 10.57995992))
            Line((12.14136042, 10.57995992), (17.47004008, 10.57995992))
            Line((17.47004008, 10.57995992), (17.47004008, 7.29631143))
            Line((17.47004008, 7.29631143), (15.22004008, 7.29631143))
            Line((15.22004008, 7.29631143), (15.22004008, 4.37995992))
            Line((15.22004008, 4.37995992), (18.72004008, 4.37995992))
            Line((18.72004008, 4.37995992), (18.72004008, 5.37995992))
            Line((18.72004008, 5.37995992), (19.72004008, 5.37995992))
        make_face()
        with BuildLine():
            Line((-17.27995992, -17.72004008), (-13.07995992, -17.72004008))
            ThreePointArc((-13.07995992, -17.72004008), (-12.372853139, -17.427146861), (-12.07995992, -16.72004008))
            Line((-12.07995992, -16.72004008), (-12.07995992, -12.52004008))
            ThreePointArc((-12.07995992, -12.52004008), (-12.372853139, -11.812933299), (-13.07995992, -11.52004008))
            Line((-13.07995992, -11.52004008), (-17.27995992, -11.52004008))
            ThreePointArc((-17.27995992, -11.52004008), (-17.987066701, -11.812933299), (-18.27995992, -12.52004008))
            Line((-18.27995992, -12.52004008), (-18.27995992, -16.72004008))
            ThreePointArc((-18.27995992, -16.72004008), (-17.987066701, -17.427146861), (-17.27995992, -17.72004008))
        make_face(mode=Mode.SUBTRACT)
        with BuildLine():
            Line((-13.07995992, 18.27995992), (-17.27995992, 18.27995992))
            ThreePointArc((-17.27995992, 18.27995992), (-17.987066701, 17.987066701), (-18.27995992, 17.27995992))
            Line((-18.27995992, 17.27995992), (-18.27995992, 13.07995992))
            ThreePointArc((-18.27995992, 13.07995992), (-17.987066701, 12.372853139), (-17.27995992, 12.07995992))
            Line((-17.27995992, 12.07995992), (-13.07995992, 12.07995992))
            ThreePointArc((-13.07995992, 12.07995992), (-12.372853139, 12.372853139), (-12.07995992, 13.07995992))
            Line((-12.07995992, 13.07995992), (-12.07995992, 17.27995992))
            ThreePointArc((-12.07995992, 17.27995992), (-12.372853139, 17.987066701), (-13.07995992, 18.27995992))
        make_face(mode=Mode.SUBTRACT)
        with BuildLine():
            Line((11.52004008, 17.27995992), (11.52004008, 13.07995992))
            ThreePointArc((11.52004008, 13.07995992), (11.812933299, 12.372853139), (12.52004008, 12.07995992))
            Line((12.52004008, 12.07995992), (16.72004008, 12.07995992))
            ThreePointArc((16.72004008, 12.07995992), (17.427146861, 12.372853139), (17.72004008, 13.07995992))
            Line((17.72004008, 13.07995992), (17.72004008, 17.27995992))
            ThreePointArc((17.72004008, 17.27995992), (17.427146861, 17.987066701), (16.72004008, 18.27995992))
            Line((16.72004008, 18.27995992), (12.52004008, 18.27995992))
            ThreePointArc((12.52004008, 18.27995992), (11.812933299, 17.987066701), (11.52004008, 17.27995992))
        make_face(mode=Mode.SUBTRACT)
        with BuildLine():
            Line((11.52004008, -12.52004008), (11.52004008, -16.72004008))
            ThreePointArc((11.52004008, -16.72004008), (11.812933299, -17.427146861), (12.52004008, -17.72004008))
            Line((12.52004008, -17.72004008), (16.72004008, -17.72004008))
            ThreePointArc((16.72004008, -17.72004008), (17.427146861, -17.427146861), (17.72004008, -16.72004008))
            Line((17.72004008, -16.72004008), (17.72004008, -12.52004008))
            ThreePointArc((17.72004008, -12.52004008), (17.427146861, -11.812933299), (16.72004008, -11.52004008))
            Line((16.72004008, -11.52004008), (12.52004008, -11.52004008))
            ThreePointArc((12.52004008, -11.52004008), (11.812933299, -11.812933299), (11.52004008, -12.52004008))
        make_face(mode=Mode.SUBTRACT)
        with BuildLine():
            Line((-4.31037879, 3.60327201), (-3.0115377, 2.30443092))
            ThreePointArc((-3.0115377, 2.30443092), (-3.67995992, 0.27995992), (-3.0115377, -1.74451108))
            Line((-3.0115377, -1.74451108), (-4.31037879, -3.04335217))
            Line((-4.31037879, -3.04335217), (-3.60327201, -3.75045895))
            Line((-3.60327201, -3.75045895), (-2.30443092, -2.45161786))
            ThreePointArc((-2.30443092, -2.45161786), (-0.27995992, -3.12004008), (1.74451108, -2.45161786))
            Line((1.74451108, -2.45161786), (3.04335217, -3.75045895))
            Line((3.04335217, -3.75045895), (3.75045895, -3.04335217))
            Line((3.75045895, -3.04335217), (2.45161786, -1.74451108))
            ThreePointArc((2.45161786, -1.74451108), (3.12004008, 0.27995992), (2.45161786, 2.30443092))
            Line((2.45161786, 2.30443092), (3.75045895, 3.60327201))
            Line((3.75045895, 3.60327201), (3.04335217, 4.31037879))
            Line((3.04335217, 4.31037879), (1.74451108, 3.0115377))
            ThreePointArc((1.74451108, 3.0115377), (-0.27995992, 3.67995992), (-2.30443092, 3.0115377))
            Line((-2.30443092, 3.0115377), (-3.60327201, 4.31037879))
            Line((-3.60327201, 4.31037879), (-4.31037879, 3.60327201))
        make_face(mode=Mode.SUBTRACT)
    extrude(amount=-EXTRUDE_2_DEPTH)


solid = part.part
